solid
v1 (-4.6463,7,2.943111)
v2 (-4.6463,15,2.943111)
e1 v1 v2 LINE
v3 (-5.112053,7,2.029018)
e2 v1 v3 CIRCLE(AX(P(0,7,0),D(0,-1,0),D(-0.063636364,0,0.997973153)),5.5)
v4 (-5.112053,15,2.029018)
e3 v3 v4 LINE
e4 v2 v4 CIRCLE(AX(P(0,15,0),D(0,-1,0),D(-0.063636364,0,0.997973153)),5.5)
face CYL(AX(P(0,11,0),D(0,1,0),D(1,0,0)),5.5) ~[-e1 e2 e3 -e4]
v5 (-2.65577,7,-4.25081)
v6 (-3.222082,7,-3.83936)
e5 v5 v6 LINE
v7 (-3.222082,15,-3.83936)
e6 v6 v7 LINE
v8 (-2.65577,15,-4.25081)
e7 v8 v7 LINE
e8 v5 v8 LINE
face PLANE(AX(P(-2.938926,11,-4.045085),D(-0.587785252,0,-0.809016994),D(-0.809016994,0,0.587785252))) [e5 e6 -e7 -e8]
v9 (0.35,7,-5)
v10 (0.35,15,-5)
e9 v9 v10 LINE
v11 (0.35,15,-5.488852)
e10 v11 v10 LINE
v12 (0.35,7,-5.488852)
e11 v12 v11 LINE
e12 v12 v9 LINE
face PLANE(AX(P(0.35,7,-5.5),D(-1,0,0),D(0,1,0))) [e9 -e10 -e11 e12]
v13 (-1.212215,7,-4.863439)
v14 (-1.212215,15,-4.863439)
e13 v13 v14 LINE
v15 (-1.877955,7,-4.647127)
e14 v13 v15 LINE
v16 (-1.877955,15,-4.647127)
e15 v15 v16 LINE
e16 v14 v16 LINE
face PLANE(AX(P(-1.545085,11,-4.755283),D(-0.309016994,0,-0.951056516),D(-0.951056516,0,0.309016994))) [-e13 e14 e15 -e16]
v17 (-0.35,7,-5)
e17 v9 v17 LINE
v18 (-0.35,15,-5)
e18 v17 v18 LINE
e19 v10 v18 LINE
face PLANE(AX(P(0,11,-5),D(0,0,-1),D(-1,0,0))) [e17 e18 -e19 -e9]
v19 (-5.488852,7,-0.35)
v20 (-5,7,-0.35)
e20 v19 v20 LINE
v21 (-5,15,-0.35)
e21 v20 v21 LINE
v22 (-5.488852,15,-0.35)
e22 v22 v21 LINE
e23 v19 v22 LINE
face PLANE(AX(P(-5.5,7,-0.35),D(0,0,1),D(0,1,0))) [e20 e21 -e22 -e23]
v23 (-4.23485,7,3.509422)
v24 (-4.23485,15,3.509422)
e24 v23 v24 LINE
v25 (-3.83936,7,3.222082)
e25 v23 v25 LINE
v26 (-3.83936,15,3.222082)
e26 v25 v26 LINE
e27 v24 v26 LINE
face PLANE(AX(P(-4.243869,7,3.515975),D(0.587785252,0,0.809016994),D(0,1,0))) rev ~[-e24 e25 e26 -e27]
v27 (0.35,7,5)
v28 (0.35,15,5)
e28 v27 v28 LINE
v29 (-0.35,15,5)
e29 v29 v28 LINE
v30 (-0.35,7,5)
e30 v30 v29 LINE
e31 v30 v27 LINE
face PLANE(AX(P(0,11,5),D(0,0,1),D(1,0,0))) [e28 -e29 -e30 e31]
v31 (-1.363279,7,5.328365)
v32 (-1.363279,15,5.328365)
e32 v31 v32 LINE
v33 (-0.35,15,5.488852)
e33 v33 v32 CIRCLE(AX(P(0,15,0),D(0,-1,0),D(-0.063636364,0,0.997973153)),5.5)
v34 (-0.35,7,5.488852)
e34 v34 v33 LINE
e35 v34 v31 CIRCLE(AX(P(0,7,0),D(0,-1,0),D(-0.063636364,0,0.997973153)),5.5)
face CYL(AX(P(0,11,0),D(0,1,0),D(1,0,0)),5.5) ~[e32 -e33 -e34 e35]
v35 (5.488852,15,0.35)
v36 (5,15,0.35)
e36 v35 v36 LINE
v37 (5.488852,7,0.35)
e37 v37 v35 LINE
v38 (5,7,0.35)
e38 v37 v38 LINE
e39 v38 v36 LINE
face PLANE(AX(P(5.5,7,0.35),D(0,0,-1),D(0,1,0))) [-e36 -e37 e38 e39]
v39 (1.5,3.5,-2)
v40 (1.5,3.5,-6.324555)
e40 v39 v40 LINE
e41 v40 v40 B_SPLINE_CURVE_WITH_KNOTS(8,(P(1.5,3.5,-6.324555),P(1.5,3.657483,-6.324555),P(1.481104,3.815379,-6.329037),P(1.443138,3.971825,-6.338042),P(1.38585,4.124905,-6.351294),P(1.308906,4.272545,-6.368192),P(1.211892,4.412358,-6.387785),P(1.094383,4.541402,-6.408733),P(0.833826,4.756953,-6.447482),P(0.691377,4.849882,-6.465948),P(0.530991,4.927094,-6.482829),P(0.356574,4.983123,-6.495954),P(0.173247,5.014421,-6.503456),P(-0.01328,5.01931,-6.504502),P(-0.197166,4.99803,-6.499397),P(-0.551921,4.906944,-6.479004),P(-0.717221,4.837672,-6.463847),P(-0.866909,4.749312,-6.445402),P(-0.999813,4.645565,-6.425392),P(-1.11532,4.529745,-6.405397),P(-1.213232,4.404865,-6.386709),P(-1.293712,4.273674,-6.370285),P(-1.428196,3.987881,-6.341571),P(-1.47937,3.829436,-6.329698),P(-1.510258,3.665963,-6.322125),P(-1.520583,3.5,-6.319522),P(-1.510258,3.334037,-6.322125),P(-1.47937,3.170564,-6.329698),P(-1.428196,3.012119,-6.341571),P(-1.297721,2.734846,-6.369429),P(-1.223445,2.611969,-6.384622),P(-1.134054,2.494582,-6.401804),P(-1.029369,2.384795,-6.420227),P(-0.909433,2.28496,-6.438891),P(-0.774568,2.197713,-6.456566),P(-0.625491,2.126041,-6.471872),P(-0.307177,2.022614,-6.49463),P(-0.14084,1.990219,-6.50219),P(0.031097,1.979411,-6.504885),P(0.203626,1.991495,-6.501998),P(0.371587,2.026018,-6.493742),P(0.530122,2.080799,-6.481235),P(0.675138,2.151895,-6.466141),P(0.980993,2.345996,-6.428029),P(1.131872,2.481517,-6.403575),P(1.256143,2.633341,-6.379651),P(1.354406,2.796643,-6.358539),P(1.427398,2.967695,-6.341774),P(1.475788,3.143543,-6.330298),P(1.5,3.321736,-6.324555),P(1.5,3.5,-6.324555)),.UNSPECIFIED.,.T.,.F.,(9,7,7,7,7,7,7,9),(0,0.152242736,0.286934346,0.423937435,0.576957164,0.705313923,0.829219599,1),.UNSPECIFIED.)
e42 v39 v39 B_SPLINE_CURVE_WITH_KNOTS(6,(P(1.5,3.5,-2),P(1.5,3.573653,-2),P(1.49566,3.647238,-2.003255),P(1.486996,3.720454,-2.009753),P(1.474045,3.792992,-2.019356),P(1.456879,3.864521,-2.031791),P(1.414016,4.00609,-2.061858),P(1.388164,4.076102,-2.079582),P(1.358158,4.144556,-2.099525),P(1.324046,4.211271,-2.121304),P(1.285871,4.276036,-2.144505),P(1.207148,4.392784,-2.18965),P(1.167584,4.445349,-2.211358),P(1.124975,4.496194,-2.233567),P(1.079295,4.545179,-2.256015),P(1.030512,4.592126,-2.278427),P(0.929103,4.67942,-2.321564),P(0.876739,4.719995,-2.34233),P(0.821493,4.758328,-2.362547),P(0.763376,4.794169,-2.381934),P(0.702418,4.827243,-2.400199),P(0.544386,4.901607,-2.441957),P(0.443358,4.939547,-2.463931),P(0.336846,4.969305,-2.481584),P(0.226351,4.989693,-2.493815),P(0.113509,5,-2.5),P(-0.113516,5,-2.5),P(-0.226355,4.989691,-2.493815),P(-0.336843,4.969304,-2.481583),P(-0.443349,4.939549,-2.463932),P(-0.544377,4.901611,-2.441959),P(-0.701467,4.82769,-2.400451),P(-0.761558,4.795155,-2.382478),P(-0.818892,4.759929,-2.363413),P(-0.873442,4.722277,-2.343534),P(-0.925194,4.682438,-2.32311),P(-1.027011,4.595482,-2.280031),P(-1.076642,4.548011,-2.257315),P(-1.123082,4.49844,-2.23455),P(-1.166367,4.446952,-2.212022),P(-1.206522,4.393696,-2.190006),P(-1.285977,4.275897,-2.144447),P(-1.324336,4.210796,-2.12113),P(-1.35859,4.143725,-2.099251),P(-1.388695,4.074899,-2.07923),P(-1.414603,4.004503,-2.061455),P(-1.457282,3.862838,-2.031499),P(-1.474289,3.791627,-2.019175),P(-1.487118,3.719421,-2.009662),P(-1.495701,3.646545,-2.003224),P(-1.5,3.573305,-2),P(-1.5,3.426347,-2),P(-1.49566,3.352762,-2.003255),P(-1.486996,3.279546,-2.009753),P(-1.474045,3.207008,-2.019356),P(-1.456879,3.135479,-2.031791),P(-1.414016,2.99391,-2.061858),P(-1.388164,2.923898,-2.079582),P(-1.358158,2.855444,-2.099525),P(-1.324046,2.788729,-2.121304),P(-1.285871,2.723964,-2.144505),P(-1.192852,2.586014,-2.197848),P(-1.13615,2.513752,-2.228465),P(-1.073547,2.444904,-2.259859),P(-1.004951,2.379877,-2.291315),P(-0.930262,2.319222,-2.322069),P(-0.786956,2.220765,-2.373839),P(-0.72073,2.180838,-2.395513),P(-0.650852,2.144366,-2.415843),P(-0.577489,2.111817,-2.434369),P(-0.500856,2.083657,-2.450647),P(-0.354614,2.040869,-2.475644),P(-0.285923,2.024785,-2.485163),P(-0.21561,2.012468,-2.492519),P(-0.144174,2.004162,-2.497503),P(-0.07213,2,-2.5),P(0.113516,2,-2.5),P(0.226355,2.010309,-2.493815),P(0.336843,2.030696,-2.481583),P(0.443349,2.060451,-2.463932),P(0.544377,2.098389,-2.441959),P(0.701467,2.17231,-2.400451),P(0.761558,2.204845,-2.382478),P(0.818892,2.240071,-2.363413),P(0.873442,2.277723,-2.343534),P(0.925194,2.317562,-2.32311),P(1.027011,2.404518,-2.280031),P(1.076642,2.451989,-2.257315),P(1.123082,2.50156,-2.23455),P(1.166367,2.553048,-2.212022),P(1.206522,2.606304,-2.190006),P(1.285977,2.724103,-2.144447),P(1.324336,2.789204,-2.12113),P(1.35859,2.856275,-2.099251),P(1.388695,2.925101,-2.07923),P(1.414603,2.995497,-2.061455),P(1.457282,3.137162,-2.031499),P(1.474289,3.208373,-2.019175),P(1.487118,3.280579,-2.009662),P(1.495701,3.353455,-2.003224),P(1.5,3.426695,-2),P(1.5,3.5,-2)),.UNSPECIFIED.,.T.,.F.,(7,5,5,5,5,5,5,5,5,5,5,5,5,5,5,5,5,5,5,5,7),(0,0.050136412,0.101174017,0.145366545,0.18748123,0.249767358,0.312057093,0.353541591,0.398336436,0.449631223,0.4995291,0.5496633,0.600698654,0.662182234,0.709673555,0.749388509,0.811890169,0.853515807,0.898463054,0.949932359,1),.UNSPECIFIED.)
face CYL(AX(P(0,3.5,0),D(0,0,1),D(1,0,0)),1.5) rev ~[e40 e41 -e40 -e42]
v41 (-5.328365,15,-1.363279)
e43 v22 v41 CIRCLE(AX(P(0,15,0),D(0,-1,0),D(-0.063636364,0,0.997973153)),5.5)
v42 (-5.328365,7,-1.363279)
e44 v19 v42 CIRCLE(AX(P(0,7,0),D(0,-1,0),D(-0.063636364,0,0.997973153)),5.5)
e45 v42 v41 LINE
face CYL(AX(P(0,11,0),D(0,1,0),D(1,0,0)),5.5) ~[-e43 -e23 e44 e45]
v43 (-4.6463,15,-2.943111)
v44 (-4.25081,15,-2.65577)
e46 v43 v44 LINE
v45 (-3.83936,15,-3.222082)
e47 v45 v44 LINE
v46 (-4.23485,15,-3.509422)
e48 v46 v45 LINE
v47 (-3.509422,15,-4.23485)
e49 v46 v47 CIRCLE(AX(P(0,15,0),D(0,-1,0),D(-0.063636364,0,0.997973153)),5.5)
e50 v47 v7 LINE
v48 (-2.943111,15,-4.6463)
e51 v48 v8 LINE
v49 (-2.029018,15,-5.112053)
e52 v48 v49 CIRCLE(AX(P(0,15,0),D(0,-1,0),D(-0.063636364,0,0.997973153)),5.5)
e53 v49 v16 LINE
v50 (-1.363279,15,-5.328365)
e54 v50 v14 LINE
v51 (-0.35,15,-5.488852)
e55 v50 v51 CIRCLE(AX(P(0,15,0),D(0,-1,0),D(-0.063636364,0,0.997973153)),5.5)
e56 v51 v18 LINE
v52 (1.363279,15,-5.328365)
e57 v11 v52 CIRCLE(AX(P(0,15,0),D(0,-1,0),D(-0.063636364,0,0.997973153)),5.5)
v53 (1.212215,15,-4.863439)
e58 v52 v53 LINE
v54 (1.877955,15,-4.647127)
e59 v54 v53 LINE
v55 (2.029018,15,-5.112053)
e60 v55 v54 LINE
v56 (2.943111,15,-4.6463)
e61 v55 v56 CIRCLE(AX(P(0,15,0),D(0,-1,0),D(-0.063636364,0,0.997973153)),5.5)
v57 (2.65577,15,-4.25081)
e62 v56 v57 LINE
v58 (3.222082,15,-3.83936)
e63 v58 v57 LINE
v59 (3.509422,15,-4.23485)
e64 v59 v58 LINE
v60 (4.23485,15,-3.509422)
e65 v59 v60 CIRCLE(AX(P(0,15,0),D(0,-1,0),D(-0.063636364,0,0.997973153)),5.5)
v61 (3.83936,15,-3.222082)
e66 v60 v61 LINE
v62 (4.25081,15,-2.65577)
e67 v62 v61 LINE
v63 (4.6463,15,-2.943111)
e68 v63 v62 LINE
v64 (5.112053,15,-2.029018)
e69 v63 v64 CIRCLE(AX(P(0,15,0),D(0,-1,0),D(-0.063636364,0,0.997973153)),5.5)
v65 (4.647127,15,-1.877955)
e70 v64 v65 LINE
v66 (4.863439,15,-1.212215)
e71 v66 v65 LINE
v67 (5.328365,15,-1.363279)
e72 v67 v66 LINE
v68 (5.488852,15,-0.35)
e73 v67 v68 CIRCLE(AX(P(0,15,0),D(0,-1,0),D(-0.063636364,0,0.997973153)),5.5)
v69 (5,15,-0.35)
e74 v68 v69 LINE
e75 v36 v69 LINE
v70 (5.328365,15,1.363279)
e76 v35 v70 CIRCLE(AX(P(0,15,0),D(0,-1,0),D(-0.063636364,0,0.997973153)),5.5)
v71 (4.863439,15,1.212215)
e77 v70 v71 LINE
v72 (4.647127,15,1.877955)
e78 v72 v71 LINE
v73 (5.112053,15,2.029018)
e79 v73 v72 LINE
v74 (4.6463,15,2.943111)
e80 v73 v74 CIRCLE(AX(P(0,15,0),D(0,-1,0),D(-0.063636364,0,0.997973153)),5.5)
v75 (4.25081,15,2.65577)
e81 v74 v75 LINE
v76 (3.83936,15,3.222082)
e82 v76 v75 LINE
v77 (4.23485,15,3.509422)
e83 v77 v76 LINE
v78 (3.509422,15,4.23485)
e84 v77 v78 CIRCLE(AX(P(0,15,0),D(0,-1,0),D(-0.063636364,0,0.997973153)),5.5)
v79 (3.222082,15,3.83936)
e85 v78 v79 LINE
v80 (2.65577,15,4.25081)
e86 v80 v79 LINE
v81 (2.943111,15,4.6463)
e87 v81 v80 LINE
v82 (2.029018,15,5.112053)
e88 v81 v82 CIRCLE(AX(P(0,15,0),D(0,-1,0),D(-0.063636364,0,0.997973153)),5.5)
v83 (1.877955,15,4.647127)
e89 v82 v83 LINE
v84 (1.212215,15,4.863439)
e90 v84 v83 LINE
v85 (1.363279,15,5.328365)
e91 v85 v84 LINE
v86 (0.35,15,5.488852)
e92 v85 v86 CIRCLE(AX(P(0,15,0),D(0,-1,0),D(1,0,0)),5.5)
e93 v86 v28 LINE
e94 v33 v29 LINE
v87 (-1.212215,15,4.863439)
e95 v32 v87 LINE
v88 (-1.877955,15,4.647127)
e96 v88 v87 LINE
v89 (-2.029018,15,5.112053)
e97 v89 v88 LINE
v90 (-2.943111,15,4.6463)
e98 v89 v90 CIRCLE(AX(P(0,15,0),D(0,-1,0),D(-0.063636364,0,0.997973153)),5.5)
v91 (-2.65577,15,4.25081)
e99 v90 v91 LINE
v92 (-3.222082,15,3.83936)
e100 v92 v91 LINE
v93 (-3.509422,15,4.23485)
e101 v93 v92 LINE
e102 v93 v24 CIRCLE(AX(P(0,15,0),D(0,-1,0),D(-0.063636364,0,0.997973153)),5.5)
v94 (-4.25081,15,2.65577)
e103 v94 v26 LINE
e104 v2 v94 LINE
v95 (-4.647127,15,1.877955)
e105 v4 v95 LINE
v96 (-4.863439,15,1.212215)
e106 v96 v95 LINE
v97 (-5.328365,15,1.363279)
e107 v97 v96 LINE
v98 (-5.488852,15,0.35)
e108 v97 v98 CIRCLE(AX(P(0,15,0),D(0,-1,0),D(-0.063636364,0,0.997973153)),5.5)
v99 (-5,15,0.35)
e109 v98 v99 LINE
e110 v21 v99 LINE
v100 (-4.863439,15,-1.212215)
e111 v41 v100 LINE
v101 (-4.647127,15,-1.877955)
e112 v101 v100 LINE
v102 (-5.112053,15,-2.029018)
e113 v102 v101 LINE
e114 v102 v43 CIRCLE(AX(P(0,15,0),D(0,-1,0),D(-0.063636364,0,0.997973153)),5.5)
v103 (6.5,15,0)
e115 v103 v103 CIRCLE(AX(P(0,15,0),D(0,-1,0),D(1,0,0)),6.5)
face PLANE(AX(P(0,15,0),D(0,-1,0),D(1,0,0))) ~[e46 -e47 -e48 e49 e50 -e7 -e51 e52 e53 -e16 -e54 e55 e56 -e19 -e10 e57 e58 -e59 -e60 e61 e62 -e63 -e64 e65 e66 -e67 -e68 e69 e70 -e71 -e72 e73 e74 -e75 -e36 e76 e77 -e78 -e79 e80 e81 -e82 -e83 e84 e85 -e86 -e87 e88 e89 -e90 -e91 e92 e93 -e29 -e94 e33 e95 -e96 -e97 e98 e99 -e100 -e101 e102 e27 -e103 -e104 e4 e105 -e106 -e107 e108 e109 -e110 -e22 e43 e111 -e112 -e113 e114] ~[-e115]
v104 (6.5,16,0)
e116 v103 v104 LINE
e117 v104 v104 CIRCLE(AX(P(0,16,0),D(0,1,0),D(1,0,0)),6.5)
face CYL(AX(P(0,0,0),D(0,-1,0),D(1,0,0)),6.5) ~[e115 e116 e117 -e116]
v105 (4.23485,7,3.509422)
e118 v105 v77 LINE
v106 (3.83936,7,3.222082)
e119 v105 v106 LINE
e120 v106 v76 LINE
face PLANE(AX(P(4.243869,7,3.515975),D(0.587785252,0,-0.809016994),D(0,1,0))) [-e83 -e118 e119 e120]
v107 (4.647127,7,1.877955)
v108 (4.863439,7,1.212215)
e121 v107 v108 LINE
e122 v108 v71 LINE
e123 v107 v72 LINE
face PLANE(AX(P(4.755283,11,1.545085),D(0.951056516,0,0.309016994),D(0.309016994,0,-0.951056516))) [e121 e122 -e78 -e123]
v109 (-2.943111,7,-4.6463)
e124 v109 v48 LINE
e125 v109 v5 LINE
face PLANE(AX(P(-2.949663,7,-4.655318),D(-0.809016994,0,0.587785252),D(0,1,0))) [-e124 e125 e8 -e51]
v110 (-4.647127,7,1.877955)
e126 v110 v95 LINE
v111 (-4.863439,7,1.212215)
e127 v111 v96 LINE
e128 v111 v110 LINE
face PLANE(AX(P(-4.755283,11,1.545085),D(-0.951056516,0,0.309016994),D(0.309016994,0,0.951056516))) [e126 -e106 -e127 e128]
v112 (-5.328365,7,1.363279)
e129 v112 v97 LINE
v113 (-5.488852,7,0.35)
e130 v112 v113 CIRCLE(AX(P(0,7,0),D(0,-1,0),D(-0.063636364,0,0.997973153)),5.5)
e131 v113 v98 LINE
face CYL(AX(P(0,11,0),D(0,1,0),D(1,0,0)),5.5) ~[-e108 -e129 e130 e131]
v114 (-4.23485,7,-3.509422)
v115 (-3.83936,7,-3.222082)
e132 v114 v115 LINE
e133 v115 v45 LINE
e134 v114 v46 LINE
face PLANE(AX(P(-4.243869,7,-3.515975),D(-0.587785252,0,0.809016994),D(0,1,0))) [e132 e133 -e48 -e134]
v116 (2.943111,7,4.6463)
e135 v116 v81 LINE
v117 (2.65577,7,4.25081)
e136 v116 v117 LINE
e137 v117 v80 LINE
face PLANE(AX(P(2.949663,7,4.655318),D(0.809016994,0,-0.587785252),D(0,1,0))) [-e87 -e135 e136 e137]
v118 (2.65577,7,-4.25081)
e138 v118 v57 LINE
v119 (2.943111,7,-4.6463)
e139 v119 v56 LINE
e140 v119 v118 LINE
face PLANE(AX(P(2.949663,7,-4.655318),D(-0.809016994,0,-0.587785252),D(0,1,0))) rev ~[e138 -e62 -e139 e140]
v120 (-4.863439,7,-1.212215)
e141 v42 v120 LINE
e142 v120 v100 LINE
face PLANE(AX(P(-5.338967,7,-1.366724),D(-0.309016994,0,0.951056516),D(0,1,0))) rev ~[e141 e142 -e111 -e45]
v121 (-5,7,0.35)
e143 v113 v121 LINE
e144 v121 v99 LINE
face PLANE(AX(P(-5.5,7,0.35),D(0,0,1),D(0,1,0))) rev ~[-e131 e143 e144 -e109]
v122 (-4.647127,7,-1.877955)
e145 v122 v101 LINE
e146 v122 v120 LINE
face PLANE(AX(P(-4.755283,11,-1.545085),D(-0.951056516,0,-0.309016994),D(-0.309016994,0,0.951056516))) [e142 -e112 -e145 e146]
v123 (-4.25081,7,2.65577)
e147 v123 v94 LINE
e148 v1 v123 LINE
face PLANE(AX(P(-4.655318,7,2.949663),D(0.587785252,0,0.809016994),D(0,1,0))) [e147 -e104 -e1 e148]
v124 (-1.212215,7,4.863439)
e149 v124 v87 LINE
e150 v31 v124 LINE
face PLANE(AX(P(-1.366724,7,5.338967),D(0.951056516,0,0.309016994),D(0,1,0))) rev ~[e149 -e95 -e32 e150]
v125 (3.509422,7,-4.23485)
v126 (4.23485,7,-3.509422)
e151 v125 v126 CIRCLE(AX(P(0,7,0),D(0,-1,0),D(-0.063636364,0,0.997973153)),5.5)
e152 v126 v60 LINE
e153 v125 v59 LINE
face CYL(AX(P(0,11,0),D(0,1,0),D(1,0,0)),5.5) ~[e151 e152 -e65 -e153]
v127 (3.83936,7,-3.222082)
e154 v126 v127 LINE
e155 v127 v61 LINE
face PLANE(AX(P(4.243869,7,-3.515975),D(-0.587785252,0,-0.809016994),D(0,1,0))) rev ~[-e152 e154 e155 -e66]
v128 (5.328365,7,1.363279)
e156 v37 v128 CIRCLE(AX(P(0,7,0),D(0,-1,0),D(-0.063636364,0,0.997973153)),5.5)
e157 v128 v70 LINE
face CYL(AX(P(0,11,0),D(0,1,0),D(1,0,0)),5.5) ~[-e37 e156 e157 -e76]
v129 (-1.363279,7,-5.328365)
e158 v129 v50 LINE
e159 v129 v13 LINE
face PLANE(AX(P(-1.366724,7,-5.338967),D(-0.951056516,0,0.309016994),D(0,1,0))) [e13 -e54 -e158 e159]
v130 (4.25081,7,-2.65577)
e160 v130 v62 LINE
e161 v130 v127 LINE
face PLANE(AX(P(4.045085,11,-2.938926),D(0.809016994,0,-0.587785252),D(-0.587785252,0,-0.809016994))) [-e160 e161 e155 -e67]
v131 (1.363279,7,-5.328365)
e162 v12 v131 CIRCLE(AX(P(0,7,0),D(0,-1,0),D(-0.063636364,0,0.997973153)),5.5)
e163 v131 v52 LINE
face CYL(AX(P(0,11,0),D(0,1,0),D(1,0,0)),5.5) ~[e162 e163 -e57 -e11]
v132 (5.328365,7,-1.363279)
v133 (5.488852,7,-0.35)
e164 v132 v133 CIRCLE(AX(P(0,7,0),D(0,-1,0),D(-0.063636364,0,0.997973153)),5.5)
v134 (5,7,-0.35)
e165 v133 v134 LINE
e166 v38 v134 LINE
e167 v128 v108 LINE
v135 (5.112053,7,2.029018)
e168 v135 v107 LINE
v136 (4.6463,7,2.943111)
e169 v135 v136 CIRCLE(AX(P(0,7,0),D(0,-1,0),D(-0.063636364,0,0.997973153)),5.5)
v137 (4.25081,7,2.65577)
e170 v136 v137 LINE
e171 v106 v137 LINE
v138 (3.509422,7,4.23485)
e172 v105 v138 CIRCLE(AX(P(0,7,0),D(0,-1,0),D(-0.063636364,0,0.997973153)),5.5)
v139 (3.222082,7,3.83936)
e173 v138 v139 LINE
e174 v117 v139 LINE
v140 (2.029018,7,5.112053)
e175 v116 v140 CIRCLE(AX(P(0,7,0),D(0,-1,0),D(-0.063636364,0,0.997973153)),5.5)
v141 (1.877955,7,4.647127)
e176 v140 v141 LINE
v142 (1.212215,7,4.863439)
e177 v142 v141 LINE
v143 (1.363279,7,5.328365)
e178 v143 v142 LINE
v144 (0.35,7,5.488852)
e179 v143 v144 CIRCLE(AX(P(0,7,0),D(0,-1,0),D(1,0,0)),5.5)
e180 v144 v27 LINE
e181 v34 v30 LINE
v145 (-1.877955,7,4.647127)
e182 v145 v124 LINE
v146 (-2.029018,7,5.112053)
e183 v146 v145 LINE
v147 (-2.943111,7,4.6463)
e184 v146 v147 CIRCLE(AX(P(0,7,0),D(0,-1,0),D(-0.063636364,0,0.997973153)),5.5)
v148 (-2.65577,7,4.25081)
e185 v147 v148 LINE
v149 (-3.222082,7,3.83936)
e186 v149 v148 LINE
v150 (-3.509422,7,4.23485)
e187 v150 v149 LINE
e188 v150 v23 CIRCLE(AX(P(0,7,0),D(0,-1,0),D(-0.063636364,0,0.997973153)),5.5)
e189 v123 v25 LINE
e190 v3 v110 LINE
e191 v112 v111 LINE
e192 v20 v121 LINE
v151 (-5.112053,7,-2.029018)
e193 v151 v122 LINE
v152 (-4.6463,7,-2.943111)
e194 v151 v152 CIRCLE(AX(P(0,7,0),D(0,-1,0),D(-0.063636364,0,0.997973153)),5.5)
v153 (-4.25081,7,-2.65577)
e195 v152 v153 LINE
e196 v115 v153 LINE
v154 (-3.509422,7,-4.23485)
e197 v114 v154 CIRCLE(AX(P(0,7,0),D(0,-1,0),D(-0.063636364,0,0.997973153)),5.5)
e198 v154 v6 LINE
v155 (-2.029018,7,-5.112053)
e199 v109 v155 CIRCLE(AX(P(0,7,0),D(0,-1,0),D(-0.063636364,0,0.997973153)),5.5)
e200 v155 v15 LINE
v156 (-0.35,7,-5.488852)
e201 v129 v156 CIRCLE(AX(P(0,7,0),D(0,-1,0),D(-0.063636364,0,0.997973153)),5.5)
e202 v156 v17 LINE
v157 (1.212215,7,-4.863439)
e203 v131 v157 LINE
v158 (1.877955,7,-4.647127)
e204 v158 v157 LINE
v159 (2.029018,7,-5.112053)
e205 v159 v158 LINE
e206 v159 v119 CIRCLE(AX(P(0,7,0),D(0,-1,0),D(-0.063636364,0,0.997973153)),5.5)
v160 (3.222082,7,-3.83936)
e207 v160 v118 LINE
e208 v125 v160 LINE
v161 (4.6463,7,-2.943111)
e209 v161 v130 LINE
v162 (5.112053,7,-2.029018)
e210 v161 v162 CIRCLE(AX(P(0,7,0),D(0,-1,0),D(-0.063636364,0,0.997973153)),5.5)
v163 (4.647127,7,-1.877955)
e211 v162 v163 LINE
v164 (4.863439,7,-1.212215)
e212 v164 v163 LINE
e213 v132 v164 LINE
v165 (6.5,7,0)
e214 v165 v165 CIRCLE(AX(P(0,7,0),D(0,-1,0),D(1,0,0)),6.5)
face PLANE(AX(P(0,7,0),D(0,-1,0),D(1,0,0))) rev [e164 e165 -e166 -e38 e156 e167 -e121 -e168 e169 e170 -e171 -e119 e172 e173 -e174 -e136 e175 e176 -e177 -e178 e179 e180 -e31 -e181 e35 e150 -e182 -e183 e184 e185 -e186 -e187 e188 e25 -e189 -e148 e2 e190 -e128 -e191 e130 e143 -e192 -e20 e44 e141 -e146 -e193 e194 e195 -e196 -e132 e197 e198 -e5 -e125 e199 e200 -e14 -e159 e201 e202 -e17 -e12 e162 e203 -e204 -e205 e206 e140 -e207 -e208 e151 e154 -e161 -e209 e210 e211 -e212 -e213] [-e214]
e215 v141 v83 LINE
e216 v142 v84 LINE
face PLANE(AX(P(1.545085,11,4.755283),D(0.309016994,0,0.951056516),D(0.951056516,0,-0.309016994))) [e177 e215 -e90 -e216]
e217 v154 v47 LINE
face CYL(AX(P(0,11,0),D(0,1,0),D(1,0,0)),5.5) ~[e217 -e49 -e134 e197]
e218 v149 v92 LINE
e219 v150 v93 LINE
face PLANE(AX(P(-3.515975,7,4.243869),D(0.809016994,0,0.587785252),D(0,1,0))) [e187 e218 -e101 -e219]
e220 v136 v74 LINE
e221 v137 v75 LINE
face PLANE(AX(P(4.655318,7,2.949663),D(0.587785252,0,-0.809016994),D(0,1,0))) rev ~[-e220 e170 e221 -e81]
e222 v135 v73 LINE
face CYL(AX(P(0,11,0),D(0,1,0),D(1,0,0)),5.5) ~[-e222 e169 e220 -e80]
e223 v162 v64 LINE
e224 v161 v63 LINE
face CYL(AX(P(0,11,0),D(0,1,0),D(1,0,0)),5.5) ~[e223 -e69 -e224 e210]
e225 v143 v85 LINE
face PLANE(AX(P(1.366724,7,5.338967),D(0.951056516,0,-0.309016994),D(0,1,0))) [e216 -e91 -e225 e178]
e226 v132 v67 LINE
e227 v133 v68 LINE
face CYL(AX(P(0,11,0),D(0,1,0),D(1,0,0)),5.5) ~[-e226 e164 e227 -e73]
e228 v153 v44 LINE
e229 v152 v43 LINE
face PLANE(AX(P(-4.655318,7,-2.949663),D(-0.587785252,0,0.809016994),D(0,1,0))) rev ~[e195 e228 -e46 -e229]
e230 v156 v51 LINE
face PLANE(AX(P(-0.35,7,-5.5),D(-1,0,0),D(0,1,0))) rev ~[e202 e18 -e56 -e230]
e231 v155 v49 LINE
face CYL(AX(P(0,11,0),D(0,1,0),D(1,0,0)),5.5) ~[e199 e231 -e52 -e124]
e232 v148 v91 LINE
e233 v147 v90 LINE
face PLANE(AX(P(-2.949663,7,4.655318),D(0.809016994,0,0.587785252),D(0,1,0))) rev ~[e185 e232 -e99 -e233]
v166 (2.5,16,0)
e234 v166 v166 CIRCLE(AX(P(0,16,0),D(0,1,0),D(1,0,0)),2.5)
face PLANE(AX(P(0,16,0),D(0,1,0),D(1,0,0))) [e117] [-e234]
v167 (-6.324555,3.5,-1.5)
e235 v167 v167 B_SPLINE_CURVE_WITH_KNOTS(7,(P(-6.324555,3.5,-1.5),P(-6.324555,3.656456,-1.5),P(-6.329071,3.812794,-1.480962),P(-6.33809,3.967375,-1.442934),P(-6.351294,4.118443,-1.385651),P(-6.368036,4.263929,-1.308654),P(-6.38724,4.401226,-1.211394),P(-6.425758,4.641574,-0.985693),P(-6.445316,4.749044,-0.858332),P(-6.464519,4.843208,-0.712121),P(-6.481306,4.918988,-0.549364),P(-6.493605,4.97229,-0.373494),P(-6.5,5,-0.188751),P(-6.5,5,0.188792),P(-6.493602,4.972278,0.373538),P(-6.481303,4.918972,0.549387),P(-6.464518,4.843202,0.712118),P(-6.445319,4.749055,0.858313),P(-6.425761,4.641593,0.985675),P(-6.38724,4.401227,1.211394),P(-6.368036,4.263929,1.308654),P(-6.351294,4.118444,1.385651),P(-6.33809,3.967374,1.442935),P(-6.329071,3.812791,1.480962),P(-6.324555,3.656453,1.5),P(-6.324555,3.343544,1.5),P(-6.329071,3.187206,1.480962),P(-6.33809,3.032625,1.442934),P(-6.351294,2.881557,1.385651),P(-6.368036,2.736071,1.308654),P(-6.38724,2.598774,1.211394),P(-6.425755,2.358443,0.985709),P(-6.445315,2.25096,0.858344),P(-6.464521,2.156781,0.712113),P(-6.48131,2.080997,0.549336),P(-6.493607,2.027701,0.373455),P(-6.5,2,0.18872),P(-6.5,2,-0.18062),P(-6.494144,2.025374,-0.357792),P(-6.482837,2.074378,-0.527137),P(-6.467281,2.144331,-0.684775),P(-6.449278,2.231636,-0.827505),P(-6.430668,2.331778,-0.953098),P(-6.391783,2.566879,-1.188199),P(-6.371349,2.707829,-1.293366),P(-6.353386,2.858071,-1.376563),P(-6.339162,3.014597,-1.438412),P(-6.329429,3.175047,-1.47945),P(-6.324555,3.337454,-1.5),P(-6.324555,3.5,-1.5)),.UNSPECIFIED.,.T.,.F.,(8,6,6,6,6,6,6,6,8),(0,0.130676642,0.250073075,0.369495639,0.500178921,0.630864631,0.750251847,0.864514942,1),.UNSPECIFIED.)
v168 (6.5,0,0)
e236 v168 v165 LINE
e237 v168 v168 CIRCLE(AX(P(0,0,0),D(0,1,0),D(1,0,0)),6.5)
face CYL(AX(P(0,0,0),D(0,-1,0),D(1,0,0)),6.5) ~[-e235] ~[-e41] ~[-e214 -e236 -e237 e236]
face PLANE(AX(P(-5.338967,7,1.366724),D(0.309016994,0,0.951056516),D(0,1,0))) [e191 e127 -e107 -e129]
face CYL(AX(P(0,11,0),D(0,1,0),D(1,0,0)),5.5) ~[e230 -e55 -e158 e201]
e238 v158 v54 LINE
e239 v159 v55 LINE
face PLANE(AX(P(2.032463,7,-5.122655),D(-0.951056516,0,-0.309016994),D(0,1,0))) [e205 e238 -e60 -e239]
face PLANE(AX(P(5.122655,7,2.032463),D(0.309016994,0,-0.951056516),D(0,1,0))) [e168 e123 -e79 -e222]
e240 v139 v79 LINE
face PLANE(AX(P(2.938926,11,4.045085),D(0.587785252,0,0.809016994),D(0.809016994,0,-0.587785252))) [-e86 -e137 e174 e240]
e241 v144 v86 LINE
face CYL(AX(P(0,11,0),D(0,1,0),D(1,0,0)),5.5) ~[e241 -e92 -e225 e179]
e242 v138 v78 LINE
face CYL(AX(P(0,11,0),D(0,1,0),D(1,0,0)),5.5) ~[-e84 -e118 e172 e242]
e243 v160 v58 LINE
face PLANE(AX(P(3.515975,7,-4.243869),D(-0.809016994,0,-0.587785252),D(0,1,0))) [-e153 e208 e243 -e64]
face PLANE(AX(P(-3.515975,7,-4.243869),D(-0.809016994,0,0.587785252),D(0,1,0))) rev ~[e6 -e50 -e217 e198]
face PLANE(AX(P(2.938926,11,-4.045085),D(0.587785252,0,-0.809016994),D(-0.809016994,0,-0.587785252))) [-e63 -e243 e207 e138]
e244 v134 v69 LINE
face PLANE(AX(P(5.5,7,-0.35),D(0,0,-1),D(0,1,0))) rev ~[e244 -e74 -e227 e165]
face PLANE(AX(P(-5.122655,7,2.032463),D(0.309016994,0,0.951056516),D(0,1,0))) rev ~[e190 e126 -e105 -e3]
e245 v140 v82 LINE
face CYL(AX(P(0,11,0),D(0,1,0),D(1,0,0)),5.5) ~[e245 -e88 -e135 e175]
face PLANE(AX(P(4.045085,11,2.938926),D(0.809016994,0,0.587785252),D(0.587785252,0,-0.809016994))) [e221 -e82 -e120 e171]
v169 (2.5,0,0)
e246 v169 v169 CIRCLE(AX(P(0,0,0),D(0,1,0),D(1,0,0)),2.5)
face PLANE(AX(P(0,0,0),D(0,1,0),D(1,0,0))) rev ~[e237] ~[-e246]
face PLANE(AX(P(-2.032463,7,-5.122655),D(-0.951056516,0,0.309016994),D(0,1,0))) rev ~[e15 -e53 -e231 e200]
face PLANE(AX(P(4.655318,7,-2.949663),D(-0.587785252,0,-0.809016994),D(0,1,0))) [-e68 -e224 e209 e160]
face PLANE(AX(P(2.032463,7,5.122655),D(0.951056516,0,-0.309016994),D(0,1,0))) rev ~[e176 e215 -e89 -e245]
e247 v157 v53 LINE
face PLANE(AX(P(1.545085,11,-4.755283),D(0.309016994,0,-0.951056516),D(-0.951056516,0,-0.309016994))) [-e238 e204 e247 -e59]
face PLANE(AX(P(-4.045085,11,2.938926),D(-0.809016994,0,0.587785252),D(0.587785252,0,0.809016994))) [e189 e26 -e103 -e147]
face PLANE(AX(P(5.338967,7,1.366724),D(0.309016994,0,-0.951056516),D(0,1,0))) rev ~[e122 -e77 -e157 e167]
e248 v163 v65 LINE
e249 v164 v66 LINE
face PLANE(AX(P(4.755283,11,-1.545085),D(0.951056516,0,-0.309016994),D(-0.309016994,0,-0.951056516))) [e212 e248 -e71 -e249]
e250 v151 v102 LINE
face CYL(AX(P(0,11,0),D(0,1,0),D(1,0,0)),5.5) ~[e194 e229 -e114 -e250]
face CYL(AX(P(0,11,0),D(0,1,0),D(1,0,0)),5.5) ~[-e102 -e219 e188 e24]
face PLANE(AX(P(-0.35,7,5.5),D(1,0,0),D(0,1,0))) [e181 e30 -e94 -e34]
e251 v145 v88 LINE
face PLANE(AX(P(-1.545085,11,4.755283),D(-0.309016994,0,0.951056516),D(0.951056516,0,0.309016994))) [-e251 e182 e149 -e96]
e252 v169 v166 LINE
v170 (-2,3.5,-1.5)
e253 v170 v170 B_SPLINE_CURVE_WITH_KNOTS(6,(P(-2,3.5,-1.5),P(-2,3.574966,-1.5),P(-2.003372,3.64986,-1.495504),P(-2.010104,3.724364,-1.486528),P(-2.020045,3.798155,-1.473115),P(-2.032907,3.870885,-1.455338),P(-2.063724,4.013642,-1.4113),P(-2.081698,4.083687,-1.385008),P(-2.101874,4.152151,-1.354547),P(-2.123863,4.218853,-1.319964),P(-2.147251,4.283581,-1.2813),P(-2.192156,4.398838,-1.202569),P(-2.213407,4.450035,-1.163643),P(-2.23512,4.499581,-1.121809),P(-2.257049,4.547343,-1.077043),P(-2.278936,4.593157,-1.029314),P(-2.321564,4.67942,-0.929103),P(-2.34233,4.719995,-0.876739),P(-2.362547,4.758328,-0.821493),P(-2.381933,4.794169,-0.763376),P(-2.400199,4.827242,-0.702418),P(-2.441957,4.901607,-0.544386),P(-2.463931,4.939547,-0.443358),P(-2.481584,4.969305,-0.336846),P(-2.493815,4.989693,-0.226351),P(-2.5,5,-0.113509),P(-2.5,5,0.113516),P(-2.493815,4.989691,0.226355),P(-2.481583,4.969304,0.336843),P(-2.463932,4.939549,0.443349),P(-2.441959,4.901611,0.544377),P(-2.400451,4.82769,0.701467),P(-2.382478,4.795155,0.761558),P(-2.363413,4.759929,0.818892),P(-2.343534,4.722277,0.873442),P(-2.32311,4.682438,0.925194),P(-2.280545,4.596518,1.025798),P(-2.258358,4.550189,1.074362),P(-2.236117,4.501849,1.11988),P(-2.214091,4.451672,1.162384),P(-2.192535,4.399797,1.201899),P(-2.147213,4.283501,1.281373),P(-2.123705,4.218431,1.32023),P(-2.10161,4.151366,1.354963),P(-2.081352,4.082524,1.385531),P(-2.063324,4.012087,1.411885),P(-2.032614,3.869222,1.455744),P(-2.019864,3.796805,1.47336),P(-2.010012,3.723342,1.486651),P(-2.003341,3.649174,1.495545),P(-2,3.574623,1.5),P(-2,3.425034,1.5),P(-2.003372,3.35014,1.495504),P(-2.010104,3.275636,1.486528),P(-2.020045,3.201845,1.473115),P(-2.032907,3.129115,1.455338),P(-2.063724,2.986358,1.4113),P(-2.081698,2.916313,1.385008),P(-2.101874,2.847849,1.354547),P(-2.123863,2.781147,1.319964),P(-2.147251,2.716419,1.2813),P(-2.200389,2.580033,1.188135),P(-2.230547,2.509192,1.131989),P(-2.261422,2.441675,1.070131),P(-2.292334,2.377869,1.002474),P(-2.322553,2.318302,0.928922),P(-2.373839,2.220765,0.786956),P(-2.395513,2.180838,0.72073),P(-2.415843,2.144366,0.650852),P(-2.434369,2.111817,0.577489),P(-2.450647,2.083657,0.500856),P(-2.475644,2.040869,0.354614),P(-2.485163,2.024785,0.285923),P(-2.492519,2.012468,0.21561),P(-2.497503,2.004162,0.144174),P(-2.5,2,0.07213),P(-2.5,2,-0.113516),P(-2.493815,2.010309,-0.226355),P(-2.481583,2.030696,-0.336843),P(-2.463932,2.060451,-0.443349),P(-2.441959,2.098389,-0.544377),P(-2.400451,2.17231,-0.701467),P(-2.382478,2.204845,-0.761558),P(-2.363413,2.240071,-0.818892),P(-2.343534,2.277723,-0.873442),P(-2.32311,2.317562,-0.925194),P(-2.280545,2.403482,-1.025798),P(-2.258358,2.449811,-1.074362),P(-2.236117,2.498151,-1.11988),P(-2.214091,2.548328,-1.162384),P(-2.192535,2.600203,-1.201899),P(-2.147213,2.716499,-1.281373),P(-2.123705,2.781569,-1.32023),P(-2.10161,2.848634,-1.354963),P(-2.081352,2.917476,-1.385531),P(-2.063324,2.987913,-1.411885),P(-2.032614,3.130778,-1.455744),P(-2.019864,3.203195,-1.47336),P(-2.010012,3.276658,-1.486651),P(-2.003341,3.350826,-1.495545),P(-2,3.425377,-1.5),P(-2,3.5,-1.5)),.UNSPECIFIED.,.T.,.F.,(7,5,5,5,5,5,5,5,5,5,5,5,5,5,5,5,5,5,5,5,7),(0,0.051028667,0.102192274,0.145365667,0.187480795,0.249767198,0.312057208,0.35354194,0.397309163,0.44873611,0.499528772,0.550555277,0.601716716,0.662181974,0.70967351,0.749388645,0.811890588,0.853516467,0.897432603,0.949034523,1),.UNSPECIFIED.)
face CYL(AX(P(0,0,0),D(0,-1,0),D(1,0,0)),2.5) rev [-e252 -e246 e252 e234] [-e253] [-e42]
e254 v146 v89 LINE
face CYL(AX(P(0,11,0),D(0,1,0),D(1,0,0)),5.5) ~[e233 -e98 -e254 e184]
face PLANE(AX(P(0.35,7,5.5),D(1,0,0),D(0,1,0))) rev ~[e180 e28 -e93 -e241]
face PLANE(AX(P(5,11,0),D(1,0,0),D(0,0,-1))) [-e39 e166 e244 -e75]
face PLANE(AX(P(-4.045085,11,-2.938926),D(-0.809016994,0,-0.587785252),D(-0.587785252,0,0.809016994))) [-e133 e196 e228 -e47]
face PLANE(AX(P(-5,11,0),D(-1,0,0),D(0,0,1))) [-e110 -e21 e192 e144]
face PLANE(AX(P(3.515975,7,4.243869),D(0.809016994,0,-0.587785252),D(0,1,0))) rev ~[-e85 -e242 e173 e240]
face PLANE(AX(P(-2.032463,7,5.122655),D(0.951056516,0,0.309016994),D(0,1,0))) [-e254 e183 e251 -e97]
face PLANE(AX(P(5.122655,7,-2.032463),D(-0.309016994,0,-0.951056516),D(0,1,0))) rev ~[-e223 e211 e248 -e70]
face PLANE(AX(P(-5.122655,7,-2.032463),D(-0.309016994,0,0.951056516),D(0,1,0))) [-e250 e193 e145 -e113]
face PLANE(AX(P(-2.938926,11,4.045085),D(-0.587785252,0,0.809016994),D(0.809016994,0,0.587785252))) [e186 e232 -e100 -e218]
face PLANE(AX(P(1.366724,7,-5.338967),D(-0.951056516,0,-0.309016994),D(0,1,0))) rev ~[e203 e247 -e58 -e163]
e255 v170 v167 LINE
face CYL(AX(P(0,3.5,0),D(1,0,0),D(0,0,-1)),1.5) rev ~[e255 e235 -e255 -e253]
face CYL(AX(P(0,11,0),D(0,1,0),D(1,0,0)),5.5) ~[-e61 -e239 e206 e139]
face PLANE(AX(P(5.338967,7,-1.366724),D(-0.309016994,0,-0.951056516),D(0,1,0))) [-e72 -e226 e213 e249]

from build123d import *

# Parameters (mm, degrees)
SKETCH1_R           = 6.5
SKETCH1_R_2         = 2.5
BOSS_EXTRUDE1_DEPTH = 16
SKETCH2_W           = 1
SKETCH2_H           = 8
SKETCH3_R           = 1.5
CUT_EXTRUDE1_DEPTH  = 7.5
CIRPATTERN1_COUNT   = 2
CIRPATTERN1_ANGLE   = 90
SKETCH6_W           = 0.7
SKETCH6_H           = 8
CUT_EXTRUDE2_DEPTH  = 0.5
CIRPATTERN2_COUNT   = 20


with BuildPart() as part:
    # Sketch1 → Boss-Extrude1 (new body)
    with BuildSketch(Plane(origin=(0, 0, 0), x_dir=(1, 0, 0), z_dir=(0, 1, 0))):
        Circle(SKETCH1_R)
        Circle(SKETCH1_R_2, mode=Mode.SUBTRACT)
    extrude(amount=BOSS_EXTRUDE1_DEPTH)

    # Sketch2 → Cut-Revolve1 (revolve, cut)
    with BuildSketch(Plane.XY):
        with Locations((6, 11)):
            Rectangle(SKETCH2_W, SKETCH2_H)
    revolve(axis=Axis((0, 18.194841433, 0), (0, -1, 0)), mode=Mode.SUBTRACT)

    # Sketch3 → Cut-Extrude1 (cut, through all)
    with BuildSketch(Plane.XY):
        with Locations((0, 3.5)):
            Circle(SKETCH3_R)
    cut_extrude1 = extrude(amount=-CUT_EXTRUDE1_DEPTH, mode=Mode.SUBTRACT)

    # CirPattern1: Cut-Extrude1 ×2 about axis
    cirpattern1_axis = Axis((0, 16, 0), (0, 1, 0))
    for i in range(1, CIRPATTERN1_COUNT):
        add(cut_extrude1.rotate(cirpattern1_axis, i * CIRPATTERN1_ANGLE / (CIRPATTERN1_COUNT - 1)), mode=Mode.SUBTRACT)

    # Sketch6 → Cut-Extrude2 (cut)
    with BuildSketch(Plane.XY.offset(5.5)):
        with Locations((0, 11)):
            Rectangle(SKETCH6_W, SKETCH6_H)
    cut_extrude2 = extrude(amount=-CUT_EXTRUDE2_DEPTH, mode=Mode.SUBTRACT)

    # CirPattern2: Cut-Extrude2 ×20 about axis
    cirpattern2_axis = Axis((0, 0, 0), (0, 1, 0))
    for i in range(1, CIRPATTERN2_COUNT):
        add(cut_extrude2.rotate(cirpattern2_axis, i * 360 / CIRPATTERN2_COUNT), mode=Mode.SUBTRACT)


solid = part.part
